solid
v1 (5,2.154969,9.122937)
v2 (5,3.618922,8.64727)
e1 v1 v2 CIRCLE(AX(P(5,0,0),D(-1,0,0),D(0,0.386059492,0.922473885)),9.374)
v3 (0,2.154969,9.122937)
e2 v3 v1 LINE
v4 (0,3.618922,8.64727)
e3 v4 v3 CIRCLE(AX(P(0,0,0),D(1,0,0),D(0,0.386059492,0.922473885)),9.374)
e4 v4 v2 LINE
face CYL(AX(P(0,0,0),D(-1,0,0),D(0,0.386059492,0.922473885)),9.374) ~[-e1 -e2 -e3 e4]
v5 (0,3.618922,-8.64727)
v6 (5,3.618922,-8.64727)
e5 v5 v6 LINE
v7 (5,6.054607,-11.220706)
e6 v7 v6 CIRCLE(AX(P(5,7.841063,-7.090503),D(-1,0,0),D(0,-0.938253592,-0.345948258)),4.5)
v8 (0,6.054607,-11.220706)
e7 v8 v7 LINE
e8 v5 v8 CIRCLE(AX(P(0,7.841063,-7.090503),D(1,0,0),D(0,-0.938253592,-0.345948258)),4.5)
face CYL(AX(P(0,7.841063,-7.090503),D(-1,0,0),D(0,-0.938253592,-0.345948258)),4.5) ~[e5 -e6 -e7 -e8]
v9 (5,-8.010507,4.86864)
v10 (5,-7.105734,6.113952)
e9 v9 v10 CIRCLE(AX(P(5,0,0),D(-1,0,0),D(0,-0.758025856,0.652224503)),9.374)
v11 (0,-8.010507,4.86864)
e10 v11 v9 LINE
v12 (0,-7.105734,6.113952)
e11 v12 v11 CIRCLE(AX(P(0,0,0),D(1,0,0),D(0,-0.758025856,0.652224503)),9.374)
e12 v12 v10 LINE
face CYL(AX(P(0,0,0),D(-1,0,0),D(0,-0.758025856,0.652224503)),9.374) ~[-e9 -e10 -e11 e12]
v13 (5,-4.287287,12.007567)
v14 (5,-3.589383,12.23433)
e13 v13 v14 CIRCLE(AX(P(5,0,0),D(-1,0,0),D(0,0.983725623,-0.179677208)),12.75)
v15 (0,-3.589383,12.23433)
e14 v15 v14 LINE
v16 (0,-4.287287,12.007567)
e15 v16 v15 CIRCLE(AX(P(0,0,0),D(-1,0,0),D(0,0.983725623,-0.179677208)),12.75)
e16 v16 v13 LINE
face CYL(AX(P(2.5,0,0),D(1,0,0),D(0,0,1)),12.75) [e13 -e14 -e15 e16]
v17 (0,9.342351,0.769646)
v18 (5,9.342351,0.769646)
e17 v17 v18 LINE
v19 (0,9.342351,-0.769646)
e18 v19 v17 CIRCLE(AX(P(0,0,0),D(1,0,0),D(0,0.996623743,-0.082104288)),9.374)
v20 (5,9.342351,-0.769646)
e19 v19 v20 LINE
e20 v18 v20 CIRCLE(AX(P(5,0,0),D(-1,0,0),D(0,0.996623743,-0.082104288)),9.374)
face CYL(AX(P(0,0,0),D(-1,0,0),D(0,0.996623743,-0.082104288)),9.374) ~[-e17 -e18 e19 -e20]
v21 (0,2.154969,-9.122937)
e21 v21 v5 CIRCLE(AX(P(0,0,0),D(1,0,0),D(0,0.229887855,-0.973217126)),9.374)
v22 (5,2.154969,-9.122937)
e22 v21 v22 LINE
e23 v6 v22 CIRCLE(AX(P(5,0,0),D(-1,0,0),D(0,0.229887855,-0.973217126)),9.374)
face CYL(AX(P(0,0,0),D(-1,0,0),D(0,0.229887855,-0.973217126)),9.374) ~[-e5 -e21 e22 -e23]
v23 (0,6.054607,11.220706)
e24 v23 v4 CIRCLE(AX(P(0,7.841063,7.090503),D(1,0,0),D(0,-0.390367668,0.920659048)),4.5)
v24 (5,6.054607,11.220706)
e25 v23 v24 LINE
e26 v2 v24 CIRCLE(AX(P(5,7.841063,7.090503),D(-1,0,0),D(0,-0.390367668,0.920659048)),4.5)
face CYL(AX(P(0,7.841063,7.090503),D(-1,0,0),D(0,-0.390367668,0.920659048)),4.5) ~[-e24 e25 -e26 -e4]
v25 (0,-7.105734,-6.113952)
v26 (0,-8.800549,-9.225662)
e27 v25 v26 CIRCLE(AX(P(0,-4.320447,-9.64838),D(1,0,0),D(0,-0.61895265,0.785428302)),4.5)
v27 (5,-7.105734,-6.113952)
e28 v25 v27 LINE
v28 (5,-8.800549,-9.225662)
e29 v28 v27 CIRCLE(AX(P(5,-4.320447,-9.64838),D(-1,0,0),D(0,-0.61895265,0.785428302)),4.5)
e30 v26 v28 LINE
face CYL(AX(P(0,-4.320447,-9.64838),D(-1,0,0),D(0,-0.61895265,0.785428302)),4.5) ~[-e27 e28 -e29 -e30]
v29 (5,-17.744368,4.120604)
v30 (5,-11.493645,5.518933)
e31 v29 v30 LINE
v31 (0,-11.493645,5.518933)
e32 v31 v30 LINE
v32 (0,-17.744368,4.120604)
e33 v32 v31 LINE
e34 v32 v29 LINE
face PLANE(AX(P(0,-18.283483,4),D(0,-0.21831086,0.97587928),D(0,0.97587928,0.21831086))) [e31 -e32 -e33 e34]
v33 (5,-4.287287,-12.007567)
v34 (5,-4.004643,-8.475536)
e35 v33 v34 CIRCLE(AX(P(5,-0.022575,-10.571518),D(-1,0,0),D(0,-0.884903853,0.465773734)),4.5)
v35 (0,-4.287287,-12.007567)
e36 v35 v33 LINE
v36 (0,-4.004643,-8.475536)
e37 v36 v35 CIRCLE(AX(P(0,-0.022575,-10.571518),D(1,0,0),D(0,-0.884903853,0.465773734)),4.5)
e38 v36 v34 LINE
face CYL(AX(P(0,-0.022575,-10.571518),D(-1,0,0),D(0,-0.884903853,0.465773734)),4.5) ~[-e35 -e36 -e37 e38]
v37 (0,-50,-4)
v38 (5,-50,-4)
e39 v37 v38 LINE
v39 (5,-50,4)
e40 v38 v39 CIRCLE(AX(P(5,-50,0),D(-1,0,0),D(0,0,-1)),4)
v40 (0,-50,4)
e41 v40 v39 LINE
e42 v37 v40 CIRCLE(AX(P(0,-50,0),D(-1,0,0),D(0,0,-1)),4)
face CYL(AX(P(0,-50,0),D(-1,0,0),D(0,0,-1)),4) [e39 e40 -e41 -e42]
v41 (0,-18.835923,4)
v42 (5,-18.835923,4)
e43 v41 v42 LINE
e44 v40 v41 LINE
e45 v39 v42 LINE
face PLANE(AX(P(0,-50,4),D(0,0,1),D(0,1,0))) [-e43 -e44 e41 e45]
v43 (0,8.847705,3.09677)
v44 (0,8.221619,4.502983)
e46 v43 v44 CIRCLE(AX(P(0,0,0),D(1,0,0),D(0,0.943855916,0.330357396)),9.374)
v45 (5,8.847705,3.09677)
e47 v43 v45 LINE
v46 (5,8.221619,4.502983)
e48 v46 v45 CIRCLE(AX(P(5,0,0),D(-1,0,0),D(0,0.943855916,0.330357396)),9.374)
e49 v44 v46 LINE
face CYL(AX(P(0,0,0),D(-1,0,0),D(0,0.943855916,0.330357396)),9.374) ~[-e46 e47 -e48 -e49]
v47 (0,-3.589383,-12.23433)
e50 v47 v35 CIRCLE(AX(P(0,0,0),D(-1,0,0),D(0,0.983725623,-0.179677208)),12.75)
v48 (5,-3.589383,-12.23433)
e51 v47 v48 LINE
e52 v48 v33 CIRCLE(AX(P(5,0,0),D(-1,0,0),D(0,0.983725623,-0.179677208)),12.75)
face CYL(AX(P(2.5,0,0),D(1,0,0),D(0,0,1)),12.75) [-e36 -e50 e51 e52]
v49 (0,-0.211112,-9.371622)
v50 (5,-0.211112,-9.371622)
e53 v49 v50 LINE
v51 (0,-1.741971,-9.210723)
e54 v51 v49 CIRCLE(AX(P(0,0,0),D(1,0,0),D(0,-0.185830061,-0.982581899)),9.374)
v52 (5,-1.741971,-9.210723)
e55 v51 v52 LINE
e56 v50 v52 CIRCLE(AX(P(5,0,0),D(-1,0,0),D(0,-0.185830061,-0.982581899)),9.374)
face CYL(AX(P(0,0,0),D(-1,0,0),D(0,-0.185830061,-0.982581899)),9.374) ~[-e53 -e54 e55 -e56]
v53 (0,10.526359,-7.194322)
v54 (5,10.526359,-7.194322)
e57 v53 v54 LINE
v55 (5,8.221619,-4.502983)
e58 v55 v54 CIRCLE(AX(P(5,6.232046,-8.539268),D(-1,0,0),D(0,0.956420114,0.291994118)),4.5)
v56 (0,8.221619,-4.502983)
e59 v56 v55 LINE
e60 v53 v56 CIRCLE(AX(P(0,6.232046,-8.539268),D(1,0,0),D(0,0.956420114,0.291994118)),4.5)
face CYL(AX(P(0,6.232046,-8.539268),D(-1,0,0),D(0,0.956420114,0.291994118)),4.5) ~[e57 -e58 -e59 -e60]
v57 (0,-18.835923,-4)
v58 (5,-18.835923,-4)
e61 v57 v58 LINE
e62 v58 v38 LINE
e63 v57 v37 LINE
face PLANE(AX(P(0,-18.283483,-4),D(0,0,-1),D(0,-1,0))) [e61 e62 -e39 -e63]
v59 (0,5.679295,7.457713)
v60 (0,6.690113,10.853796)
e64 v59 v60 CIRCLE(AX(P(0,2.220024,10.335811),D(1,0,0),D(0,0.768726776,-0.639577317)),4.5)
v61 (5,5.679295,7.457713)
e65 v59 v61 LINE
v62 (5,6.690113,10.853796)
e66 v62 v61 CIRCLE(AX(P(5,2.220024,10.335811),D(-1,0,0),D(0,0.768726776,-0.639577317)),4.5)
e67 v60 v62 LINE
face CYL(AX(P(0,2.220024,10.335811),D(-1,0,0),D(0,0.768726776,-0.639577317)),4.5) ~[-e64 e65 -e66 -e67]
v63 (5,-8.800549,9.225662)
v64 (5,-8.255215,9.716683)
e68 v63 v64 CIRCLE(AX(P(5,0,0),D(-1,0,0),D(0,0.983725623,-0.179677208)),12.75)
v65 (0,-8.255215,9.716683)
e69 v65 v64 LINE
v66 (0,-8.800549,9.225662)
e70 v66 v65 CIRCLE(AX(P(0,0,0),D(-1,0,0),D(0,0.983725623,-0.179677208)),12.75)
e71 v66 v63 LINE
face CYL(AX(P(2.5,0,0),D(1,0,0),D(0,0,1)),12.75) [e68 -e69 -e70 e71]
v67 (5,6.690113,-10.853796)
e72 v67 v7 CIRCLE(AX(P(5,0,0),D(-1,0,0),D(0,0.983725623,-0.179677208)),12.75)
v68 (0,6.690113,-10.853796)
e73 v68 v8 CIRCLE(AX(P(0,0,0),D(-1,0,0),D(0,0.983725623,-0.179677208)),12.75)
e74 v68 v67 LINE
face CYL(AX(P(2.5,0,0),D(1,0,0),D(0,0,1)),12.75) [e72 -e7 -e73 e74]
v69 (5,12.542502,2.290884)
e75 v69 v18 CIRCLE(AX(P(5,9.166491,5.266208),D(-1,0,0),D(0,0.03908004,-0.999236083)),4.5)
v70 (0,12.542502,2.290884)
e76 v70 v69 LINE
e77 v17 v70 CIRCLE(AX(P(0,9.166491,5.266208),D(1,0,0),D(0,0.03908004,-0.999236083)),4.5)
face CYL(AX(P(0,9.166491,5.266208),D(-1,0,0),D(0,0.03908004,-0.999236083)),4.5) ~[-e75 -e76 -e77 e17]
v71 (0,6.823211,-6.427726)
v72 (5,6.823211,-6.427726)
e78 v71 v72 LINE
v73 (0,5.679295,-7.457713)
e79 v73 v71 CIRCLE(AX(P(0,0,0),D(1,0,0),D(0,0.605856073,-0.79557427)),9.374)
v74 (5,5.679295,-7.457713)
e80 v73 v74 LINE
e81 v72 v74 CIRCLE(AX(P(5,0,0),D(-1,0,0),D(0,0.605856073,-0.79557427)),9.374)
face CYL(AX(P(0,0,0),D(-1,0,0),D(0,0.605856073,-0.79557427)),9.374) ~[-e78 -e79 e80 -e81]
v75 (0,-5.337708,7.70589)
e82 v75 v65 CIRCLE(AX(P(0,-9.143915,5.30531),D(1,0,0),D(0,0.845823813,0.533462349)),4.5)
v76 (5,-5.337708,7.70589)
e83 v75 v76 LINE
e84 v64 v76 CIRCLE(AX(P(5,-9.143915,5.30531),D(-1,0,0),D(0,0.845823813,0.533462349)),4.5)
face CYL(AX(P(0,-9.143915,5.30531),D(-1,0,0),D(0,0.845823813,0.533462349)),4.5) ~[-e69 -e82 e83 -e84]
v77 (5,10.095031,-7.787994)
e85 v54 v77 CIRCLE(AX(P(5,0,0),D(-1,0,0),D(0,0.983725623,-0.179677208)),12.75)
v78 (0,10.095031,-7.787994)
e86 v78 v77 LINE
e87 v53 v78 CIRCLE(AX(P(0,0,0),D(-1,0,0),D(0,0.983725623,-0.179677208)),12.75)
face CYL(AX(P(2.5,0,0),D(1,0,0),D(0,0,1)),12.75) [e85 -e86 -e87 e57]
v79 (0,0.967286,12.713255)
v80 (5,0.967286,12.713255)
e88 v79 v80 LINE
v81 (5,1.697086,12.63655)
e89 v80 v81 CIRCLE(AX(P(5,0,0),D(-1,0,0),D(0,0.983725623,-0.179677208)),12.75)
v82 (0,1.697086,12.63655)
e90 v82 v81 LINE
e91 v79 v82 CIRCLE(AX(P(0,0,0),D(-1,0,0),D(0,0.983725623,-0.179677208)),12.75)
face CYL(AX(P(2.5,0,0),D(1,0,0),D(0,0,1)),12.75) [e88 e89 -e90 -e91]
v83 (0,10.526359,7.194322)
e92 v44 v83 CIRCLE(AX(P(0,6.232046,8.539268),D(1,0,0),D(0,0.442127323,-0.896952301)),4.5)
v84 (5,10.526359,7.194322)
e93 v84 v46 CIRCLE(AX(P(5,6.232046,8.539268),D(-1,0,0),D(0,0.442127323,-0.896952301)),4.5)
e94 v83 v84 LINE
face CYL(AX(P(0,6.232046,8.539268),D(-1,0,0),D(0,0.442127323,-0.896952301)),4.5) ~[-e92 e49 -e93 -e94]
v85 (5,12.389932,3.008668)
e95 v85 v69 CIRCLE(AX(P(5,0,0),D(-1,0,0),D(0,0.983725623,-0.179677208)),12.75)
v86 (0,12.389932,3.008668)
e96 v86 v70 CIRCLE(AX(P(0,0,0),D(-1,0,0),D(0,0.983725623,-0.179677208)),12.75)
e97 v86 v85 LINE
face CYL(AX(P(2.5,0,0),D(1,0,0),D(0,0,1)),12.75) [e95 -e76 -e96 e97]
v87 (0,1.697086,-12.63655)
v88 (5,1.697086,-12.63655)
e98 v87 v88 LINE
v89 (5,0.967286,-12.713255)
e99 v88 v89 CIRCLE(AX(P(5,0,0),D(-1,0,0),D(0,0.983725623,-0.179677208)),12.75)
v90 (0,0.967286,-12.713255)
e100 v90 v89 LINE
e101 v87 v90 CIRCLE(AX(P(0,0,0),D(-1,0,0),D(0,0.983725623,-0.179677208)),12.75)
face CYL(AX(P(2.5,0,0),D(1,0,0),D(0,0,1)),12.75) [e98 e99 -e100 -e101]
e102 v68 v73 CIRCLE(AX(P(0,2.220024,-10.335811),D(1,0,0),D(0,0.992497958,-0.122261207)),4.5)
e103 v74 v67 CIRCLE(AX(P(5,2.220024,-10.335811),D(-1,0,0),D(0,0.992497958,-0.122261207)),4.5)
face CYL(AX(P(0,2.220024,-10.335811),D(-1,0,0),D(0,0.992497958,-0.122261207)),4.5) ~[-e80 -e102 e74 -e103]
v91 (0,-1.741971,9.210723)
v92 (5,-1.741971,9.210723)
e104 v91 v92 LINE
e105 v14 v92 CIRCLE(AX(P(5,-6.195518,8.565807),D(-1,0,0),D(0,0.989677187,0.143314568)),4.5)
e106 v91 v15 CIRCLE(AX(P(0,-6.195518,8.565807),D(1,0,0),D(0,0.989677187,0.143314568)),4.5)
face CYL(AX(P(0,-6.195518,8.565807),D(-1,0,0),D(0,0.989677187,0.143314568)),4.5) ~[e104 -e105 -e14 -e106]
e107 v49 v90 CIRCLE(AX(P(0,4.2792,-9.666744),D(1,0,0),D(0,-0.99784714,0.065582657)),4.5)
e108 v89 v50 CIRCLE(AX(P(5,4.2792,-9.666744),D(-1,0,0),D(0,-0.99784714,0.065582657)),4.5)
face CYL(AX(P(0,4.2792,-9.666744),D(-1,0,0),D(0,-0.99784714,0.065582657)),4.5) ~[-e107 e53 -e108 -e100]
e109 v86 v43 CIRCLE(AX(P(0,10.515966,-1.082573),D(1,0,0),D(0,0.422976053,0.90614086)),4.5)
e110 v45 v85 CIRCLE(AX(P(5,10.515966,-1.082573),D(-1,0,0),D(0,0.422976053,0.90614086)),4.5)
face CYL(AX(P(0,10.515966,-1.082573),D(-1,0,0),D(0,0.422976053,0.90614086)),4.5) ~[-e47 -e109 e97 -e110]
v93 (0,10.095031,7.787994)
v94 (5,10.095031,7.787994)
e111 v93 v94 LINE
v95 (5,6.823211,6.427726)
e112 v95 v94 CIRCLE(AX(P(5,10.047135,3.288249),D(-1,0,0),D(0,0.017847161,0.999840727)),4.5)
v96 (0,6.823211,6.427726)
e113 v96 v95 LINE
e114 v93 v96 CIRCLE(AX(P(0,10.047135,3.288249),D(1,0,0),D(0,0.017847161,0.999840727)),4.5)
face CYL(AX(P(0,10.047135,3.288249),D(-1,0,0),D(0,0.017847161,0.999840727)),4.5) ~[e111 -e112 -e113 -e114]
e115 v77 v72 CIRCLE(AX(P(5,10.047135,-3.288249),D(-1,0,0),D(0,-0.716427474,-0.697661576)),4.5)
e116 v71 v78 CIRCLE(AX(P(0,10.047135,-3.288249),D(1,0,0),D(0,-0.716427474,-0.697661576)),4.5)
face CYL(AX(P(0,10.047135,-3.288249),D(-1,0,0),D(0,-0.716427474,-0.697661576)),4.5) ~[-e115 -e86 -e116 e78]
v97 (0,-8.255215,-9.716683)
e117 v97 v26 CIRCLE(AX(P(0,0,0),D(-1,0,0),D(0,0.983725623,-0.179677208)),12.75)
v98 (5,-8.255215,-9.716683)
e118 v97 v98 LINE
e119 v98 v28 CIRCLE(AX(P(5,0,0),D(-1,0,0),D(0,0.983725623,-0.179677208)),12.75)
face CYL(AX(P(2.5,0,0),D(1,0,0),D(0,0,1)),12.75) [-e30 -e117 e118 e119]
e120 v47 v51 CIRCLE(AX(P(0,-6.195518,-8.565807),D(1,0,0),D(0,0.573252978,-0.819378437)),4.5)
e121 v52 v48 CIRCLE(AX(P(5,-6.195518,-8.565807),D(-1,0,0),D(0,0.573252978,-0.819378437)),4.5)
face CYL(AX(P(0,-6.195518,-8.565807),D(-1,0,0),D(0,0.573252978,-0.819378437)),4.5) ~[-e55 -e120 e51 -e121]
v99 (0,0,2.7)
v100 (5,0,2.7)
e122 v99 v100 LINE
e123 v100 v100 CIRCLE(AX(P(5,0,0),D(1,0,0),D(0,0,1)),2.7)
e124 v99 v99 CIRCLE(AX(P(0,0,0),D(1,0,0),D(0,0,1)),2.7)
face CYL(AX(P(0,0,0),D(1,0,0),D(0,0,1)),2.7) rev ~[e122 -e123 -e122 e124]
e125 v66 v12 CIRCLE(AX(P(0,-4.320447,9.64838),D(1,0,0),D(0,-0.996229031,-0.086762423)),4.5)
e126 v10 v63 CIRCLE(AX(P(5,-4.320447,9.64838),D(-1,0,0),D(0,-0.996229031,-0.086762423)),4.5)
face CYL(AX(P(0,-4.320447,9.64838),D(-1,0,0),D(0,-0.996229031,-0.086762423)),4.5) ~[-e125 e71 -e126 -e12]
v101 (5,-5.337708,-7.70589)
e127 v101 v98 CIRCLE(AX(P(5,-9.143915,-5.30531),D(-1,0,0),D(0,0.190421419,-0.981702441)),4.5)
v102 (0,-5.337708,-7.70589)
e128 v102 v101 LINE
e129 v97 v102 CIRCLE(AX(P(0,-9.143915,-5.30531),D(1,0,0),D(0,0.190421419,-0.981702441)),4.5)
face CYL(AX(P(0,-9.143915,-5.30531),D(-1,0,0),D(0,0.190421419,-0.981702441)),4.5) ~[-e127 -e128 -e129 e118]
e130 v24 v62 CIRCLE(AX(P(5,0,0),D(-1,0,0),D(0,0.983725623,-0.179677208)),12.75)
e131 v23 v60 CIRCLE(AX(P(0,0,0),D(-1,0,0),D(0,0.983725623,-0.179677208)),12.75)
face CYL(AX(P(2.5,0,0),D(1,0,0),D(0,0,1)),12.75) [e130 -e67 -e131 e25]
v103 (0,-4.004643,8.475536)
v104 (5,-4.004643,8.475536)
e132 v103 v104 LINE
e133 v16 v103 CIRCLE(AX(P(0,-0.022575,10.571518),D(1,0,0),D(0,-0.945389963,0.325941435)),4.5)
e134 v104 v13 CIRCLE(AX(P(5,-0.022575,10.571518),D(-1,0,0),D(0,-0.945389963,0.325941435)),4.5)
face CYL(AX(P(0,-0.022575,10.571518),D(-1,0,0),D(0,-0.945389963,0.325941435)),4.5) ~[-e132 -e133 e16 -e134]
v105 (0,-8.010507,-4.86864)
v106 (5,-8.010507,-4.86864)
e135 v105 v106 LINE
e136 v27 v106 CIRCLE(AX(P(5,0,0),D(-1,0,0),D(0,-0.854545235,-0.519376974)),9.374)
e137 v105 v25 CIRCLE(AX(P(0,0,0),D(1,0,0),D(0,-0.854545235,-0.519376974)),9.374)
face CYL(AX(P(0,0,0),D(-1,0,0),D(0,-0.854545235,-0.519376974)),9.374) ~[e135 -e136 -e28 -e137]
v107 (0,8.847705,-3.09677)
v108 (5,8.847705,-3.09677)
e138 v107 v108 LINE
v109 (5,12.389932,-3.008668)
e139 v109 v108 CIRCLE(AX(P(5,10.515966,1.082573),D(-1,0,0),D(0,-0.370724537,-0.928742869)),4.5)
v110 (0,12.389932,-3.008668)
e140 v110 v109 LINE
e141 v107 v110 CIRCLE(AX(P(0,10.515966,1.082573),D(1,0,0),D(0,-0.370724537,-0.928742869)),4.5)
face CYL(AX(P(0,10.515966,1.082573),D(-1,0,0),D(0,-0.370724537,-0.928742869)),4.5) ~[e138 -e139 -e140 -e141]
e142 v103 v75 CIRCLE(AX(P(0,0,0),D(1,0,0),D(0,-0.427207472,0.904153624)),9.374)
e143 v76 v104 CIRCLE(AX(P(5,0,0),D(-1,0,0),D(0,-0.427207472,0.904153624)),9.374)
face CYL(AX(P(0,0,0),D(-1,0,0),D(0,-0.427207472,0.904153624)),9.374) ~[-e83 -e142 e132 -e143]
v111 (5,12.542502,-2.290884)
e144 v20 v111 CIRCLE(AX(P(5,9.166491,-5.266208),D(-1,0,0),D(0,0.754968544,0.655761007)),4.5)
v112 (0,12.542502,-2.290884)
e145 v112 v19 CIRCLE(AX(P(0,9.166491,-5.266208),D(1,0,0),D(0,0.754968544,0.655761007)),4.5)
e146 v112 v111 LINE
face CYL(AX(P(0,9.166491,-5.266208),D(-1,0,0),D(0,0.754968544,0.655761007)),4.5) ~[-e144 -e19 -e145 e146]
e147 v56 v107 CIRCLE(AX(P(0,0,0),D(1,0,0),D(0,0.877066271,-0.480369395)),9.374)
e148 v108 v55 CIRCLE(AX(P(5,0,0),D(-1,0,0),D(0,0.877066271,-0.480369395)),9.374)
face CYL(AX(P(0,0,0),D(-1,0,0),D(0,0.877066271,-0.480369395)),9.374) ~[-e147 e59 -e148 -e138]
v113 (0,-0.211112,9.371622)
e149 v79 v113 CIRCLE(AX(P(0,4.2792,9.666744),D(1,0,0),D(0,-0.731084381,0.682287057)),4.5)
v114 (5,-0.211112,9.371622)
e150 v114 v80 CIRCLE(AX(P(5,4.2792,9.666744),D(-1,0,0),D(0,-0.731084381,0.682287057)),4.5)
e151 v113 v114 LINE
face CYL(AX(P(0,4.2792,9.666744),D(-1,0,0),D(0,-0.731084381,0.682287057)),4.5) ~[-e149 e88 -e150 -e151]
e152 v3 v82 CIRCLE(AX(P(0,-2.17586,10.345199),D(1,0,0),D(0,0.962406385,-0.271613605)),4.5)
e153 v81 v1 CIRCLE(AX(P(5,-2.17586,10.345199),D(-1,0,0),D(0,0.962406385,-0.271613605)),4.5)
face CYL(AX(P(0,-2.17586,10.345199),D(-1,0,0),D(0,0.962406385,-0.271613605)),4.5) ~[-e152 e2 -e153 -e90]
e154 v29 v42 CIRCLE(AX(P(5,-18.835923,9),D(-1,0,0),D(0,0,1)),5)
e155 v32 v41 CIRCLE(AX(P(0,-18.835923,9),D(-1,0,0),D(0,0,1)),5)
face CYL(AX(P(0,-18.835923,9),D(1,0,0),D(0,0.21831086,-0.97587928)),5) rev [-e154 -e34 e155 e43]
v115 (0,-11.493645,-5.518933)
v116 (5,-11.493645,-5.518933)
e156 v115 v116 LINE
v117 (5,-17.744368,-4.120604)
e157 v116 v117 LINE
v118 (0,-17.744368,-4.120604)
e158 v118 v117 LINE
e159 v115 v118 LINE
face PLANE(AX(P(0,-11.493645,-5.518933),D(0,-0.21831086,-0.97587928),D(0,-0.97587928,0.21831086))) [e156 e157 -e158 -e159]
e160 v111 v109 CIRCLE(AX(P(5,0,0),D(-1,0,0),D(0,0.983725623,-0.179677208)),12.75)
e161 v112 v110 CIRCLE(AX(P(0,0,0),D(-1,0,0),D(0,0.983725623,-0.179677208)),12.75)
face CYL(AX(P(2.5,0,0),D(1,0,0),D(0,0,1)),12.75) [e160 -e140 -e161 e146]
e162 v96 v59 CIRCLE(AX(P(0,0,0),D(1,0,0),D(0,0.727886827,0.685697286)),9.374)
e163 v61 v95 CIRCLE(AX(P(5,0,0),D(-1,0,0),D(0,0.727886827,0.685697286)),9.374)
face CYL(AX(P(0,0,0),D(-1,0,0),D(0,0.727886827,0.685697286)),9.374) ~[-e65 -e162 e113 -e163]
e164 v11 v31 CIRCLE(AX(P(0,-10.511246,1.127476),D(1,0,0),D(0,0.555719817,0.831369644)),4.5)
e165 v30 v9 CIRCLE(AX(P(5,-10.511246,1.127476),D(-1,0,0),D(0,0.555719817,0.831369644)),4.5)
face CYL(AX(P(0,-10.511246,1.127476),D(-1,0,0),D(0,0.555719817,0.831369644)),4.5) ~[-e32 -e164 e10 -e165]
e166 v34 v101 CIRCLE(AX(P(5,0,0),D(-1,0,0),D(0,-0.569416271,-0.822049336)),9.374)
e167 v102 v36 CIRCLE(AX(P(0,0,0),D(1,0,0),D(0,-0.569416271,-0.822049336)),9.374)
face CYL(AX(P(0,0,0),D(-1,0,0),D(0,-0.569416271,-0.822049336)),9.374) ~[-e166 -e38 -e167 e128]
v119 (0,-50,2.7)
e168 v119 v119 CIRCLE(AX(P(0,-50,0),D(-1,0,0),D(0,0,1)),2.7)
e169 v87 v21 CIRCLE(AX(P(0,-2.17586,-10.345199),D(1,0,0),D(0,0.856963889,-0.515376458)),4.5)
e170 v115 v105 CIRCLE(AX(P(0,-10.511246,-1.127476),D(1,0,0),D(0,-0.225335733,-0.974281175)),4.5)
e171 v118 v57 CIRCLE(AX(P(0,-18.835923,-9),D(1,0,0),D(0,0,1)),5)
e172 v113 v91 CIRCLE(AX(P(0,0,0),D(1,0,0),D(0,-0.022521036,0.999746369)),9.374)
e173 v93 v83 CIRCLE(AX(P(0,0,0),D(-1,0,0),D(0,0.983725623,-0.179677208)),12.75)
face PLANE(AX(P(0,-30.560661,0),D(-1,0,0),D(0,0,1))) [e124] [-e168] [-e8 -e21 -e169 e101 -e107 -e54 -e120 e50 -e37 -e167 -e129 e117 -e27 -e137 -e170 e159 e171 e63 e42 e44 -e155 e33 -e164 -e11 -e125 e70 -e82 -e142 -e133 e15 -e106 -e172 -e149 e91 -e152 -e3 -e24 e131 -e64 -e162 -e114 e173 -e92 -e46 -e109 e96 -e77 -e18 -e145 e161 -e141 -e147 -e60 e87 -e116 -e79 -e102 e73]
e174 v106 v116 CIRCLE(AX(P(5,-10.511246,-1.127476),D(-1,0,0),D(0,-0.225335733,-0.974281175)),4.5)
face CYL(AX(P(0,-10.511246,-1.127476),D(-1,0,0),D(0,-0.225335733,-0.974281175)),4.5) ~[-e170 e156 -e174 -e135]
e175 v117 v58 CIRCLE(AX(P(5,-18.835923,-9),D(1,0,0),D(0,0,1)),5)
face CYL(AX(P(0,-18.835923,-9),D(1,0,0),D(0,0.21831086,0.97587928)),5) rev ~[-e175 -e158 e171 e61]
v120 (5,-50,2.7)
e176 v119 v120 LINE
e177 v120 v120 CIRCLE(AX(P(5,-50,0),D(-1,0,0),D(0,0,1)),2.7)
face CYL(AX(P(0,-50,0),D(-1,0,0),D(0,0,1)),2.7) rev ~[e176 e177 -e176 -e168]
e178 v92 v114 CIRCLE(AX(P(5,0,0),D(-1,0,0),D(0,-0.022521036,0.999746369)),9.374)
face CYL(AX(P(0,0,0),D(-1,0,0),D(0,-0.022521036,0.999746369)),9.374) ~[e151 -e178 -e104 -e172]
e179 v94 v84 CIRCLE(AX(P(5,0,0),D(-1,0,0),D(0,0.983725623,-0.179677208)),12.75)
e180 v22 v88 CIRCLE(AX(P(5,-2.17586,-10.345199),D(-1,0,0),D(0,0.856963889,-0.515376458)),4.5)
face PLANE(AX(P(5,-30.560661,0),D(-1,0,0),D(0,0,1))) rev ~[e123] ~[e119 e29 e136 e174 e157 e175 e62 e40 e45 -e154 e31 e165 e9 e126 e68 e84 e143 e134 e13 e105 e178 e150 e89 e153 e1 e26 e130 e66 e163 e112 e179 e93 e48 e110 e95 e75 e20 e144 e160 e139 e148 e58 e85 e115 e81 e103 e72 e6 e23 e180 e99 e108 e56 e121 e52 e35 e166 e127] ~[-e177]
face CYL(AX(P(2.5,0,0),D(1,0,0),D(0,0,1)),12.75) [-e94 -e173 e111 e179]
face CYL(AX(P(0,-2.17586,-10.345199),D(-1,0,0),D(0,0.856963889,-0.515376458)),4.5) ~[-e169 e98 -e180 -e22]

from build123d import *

# Parameters (mm, degrees)
BASPROSKE_W         = 5
BASPROSKE_H         = 12.75
TOOTHCUT_DEPTH      = 19.711627401
TEETHCUTS_COUNT     = 15
TEETHCUTS_ANGLE     = 336
BORSKE_R            = 2.7
BORE_DEPTH          = 50.0049784
SKETCH3_R           = 2.7
BOSS_EXTRUDE2_DEPTH = 5
FILLET1_R           = 5


with BuildPart() as part:
    # BasProSke → Base-Revolve (revolve)
    with BuildSketch(Plane(origin=(0, 0, 0), x_dir=(1, 0, 0), z_dir=(0, 1, 0)), mode=Mode.PRIVATE) as base_revolve_sk:
        with Locations((2.5, 6.375)):
            Rectangle(BASPROSKE_W, BASPROSKE_H)
    revolve(base_revolve_sk.sketch.rotate(Axis((-10, 0, 0), (1, 0, 0)), 180), axis=Axis((-10, 0, 0), (1, 0, 0)))

    # TooCutSke → ToothCut (cut, through all)
    with BuildSketch(Plane(origin=(0, 0, 0), x_dir=(0, 0, -1), z_dir=(1, 0, 0))):
        with BuildLine():
            ThreePointArc((0.769645606, 9.34235097), (0, 9.374), (-0.769645606, 9.34235097))
            ThreePointArc((-0.769645606, 9.34235097), (-1.209019537, 11.113083179), (-2.315283452, 12.563849239))
            ThreePointArc((-2.315283452, 12.563849239), (0, 12.7754), (2.315283452, 12.563849239))
            ThreePointArc((2.315283452, 12.563849239), (1.209019537, 11.113083179), (0.769645606, 9.34235097))
        make_face()
    toothcut = extrude(amount=TOOTHCUT_DEPTH, mode=Mode.SUBTRACT)

    # TeethCuts: ToothCut ×15 about axis
    teethcuts_axis = Axis((-10, 0, 0), (1, 0, 0))
    for i in range(1, TEETHCUTS_COUNT):
        add(toothcut.rotate(teethcuts_axis, i * TEETHCUTS_ANGLE / (TEETHCUTS_COUNT - 1)), mode=Mode.SUBTRACT)

    # BorSke → Bore (cut, symmetric)
    with BuildSketch(Plane(origin=(0, 0, 0), x_dir=(0, 0, -1), z_dir=(1, 0, 0))):
        with Locations(Location((0, 0, 0), (0, 0, 180))):
            Circle(BORSKE_R)
    extrude(amount=BORE_DEPTH, both=True, mode=Mode.SUBTRACT)

    # Sketch3 → Boss-Extrude2 (add)
    with BuildSketch(Plane.ZY):
        with BuildLine():
            Line((-5.518933108, -11.493645085), (-4, -18.283482979))
            Line((-4, -18.283482979), (-4, -50))
            ThreePointArc((-4, -50), (0, -54), (4, -50))
            Line((4, -50), (4, -18.283482979))
            Line((4, -18.283482979), (5.518933108, -11.493645085))
            Line((5.518933108, -11.493645085), (2.695210989, -8.978179867))
            Line((2.695210989, -8.978179867), (-2.695210989, -8.978179867))
            Line((-2.695210989, -8.978179867), (-5.518933108, -11.493645085))
        make_face()
        with Locations((0, -50)):
            Circle(SKETCH3_R, mode=Mode.SUBTRACT)
    extrude(amount=-BOSS_EXTRUDE2_DEPTH)

    # Fillet1
    fillet1_edges = [part.edges().sort_by_distance(p)[0] for p in [
        (2.5, -18.283482979, -4),
        (2.5, -18.283482979, 4),
    ]]
    fillet(fillet1_edges, radius=FILLET1_R)


solid = part.part
